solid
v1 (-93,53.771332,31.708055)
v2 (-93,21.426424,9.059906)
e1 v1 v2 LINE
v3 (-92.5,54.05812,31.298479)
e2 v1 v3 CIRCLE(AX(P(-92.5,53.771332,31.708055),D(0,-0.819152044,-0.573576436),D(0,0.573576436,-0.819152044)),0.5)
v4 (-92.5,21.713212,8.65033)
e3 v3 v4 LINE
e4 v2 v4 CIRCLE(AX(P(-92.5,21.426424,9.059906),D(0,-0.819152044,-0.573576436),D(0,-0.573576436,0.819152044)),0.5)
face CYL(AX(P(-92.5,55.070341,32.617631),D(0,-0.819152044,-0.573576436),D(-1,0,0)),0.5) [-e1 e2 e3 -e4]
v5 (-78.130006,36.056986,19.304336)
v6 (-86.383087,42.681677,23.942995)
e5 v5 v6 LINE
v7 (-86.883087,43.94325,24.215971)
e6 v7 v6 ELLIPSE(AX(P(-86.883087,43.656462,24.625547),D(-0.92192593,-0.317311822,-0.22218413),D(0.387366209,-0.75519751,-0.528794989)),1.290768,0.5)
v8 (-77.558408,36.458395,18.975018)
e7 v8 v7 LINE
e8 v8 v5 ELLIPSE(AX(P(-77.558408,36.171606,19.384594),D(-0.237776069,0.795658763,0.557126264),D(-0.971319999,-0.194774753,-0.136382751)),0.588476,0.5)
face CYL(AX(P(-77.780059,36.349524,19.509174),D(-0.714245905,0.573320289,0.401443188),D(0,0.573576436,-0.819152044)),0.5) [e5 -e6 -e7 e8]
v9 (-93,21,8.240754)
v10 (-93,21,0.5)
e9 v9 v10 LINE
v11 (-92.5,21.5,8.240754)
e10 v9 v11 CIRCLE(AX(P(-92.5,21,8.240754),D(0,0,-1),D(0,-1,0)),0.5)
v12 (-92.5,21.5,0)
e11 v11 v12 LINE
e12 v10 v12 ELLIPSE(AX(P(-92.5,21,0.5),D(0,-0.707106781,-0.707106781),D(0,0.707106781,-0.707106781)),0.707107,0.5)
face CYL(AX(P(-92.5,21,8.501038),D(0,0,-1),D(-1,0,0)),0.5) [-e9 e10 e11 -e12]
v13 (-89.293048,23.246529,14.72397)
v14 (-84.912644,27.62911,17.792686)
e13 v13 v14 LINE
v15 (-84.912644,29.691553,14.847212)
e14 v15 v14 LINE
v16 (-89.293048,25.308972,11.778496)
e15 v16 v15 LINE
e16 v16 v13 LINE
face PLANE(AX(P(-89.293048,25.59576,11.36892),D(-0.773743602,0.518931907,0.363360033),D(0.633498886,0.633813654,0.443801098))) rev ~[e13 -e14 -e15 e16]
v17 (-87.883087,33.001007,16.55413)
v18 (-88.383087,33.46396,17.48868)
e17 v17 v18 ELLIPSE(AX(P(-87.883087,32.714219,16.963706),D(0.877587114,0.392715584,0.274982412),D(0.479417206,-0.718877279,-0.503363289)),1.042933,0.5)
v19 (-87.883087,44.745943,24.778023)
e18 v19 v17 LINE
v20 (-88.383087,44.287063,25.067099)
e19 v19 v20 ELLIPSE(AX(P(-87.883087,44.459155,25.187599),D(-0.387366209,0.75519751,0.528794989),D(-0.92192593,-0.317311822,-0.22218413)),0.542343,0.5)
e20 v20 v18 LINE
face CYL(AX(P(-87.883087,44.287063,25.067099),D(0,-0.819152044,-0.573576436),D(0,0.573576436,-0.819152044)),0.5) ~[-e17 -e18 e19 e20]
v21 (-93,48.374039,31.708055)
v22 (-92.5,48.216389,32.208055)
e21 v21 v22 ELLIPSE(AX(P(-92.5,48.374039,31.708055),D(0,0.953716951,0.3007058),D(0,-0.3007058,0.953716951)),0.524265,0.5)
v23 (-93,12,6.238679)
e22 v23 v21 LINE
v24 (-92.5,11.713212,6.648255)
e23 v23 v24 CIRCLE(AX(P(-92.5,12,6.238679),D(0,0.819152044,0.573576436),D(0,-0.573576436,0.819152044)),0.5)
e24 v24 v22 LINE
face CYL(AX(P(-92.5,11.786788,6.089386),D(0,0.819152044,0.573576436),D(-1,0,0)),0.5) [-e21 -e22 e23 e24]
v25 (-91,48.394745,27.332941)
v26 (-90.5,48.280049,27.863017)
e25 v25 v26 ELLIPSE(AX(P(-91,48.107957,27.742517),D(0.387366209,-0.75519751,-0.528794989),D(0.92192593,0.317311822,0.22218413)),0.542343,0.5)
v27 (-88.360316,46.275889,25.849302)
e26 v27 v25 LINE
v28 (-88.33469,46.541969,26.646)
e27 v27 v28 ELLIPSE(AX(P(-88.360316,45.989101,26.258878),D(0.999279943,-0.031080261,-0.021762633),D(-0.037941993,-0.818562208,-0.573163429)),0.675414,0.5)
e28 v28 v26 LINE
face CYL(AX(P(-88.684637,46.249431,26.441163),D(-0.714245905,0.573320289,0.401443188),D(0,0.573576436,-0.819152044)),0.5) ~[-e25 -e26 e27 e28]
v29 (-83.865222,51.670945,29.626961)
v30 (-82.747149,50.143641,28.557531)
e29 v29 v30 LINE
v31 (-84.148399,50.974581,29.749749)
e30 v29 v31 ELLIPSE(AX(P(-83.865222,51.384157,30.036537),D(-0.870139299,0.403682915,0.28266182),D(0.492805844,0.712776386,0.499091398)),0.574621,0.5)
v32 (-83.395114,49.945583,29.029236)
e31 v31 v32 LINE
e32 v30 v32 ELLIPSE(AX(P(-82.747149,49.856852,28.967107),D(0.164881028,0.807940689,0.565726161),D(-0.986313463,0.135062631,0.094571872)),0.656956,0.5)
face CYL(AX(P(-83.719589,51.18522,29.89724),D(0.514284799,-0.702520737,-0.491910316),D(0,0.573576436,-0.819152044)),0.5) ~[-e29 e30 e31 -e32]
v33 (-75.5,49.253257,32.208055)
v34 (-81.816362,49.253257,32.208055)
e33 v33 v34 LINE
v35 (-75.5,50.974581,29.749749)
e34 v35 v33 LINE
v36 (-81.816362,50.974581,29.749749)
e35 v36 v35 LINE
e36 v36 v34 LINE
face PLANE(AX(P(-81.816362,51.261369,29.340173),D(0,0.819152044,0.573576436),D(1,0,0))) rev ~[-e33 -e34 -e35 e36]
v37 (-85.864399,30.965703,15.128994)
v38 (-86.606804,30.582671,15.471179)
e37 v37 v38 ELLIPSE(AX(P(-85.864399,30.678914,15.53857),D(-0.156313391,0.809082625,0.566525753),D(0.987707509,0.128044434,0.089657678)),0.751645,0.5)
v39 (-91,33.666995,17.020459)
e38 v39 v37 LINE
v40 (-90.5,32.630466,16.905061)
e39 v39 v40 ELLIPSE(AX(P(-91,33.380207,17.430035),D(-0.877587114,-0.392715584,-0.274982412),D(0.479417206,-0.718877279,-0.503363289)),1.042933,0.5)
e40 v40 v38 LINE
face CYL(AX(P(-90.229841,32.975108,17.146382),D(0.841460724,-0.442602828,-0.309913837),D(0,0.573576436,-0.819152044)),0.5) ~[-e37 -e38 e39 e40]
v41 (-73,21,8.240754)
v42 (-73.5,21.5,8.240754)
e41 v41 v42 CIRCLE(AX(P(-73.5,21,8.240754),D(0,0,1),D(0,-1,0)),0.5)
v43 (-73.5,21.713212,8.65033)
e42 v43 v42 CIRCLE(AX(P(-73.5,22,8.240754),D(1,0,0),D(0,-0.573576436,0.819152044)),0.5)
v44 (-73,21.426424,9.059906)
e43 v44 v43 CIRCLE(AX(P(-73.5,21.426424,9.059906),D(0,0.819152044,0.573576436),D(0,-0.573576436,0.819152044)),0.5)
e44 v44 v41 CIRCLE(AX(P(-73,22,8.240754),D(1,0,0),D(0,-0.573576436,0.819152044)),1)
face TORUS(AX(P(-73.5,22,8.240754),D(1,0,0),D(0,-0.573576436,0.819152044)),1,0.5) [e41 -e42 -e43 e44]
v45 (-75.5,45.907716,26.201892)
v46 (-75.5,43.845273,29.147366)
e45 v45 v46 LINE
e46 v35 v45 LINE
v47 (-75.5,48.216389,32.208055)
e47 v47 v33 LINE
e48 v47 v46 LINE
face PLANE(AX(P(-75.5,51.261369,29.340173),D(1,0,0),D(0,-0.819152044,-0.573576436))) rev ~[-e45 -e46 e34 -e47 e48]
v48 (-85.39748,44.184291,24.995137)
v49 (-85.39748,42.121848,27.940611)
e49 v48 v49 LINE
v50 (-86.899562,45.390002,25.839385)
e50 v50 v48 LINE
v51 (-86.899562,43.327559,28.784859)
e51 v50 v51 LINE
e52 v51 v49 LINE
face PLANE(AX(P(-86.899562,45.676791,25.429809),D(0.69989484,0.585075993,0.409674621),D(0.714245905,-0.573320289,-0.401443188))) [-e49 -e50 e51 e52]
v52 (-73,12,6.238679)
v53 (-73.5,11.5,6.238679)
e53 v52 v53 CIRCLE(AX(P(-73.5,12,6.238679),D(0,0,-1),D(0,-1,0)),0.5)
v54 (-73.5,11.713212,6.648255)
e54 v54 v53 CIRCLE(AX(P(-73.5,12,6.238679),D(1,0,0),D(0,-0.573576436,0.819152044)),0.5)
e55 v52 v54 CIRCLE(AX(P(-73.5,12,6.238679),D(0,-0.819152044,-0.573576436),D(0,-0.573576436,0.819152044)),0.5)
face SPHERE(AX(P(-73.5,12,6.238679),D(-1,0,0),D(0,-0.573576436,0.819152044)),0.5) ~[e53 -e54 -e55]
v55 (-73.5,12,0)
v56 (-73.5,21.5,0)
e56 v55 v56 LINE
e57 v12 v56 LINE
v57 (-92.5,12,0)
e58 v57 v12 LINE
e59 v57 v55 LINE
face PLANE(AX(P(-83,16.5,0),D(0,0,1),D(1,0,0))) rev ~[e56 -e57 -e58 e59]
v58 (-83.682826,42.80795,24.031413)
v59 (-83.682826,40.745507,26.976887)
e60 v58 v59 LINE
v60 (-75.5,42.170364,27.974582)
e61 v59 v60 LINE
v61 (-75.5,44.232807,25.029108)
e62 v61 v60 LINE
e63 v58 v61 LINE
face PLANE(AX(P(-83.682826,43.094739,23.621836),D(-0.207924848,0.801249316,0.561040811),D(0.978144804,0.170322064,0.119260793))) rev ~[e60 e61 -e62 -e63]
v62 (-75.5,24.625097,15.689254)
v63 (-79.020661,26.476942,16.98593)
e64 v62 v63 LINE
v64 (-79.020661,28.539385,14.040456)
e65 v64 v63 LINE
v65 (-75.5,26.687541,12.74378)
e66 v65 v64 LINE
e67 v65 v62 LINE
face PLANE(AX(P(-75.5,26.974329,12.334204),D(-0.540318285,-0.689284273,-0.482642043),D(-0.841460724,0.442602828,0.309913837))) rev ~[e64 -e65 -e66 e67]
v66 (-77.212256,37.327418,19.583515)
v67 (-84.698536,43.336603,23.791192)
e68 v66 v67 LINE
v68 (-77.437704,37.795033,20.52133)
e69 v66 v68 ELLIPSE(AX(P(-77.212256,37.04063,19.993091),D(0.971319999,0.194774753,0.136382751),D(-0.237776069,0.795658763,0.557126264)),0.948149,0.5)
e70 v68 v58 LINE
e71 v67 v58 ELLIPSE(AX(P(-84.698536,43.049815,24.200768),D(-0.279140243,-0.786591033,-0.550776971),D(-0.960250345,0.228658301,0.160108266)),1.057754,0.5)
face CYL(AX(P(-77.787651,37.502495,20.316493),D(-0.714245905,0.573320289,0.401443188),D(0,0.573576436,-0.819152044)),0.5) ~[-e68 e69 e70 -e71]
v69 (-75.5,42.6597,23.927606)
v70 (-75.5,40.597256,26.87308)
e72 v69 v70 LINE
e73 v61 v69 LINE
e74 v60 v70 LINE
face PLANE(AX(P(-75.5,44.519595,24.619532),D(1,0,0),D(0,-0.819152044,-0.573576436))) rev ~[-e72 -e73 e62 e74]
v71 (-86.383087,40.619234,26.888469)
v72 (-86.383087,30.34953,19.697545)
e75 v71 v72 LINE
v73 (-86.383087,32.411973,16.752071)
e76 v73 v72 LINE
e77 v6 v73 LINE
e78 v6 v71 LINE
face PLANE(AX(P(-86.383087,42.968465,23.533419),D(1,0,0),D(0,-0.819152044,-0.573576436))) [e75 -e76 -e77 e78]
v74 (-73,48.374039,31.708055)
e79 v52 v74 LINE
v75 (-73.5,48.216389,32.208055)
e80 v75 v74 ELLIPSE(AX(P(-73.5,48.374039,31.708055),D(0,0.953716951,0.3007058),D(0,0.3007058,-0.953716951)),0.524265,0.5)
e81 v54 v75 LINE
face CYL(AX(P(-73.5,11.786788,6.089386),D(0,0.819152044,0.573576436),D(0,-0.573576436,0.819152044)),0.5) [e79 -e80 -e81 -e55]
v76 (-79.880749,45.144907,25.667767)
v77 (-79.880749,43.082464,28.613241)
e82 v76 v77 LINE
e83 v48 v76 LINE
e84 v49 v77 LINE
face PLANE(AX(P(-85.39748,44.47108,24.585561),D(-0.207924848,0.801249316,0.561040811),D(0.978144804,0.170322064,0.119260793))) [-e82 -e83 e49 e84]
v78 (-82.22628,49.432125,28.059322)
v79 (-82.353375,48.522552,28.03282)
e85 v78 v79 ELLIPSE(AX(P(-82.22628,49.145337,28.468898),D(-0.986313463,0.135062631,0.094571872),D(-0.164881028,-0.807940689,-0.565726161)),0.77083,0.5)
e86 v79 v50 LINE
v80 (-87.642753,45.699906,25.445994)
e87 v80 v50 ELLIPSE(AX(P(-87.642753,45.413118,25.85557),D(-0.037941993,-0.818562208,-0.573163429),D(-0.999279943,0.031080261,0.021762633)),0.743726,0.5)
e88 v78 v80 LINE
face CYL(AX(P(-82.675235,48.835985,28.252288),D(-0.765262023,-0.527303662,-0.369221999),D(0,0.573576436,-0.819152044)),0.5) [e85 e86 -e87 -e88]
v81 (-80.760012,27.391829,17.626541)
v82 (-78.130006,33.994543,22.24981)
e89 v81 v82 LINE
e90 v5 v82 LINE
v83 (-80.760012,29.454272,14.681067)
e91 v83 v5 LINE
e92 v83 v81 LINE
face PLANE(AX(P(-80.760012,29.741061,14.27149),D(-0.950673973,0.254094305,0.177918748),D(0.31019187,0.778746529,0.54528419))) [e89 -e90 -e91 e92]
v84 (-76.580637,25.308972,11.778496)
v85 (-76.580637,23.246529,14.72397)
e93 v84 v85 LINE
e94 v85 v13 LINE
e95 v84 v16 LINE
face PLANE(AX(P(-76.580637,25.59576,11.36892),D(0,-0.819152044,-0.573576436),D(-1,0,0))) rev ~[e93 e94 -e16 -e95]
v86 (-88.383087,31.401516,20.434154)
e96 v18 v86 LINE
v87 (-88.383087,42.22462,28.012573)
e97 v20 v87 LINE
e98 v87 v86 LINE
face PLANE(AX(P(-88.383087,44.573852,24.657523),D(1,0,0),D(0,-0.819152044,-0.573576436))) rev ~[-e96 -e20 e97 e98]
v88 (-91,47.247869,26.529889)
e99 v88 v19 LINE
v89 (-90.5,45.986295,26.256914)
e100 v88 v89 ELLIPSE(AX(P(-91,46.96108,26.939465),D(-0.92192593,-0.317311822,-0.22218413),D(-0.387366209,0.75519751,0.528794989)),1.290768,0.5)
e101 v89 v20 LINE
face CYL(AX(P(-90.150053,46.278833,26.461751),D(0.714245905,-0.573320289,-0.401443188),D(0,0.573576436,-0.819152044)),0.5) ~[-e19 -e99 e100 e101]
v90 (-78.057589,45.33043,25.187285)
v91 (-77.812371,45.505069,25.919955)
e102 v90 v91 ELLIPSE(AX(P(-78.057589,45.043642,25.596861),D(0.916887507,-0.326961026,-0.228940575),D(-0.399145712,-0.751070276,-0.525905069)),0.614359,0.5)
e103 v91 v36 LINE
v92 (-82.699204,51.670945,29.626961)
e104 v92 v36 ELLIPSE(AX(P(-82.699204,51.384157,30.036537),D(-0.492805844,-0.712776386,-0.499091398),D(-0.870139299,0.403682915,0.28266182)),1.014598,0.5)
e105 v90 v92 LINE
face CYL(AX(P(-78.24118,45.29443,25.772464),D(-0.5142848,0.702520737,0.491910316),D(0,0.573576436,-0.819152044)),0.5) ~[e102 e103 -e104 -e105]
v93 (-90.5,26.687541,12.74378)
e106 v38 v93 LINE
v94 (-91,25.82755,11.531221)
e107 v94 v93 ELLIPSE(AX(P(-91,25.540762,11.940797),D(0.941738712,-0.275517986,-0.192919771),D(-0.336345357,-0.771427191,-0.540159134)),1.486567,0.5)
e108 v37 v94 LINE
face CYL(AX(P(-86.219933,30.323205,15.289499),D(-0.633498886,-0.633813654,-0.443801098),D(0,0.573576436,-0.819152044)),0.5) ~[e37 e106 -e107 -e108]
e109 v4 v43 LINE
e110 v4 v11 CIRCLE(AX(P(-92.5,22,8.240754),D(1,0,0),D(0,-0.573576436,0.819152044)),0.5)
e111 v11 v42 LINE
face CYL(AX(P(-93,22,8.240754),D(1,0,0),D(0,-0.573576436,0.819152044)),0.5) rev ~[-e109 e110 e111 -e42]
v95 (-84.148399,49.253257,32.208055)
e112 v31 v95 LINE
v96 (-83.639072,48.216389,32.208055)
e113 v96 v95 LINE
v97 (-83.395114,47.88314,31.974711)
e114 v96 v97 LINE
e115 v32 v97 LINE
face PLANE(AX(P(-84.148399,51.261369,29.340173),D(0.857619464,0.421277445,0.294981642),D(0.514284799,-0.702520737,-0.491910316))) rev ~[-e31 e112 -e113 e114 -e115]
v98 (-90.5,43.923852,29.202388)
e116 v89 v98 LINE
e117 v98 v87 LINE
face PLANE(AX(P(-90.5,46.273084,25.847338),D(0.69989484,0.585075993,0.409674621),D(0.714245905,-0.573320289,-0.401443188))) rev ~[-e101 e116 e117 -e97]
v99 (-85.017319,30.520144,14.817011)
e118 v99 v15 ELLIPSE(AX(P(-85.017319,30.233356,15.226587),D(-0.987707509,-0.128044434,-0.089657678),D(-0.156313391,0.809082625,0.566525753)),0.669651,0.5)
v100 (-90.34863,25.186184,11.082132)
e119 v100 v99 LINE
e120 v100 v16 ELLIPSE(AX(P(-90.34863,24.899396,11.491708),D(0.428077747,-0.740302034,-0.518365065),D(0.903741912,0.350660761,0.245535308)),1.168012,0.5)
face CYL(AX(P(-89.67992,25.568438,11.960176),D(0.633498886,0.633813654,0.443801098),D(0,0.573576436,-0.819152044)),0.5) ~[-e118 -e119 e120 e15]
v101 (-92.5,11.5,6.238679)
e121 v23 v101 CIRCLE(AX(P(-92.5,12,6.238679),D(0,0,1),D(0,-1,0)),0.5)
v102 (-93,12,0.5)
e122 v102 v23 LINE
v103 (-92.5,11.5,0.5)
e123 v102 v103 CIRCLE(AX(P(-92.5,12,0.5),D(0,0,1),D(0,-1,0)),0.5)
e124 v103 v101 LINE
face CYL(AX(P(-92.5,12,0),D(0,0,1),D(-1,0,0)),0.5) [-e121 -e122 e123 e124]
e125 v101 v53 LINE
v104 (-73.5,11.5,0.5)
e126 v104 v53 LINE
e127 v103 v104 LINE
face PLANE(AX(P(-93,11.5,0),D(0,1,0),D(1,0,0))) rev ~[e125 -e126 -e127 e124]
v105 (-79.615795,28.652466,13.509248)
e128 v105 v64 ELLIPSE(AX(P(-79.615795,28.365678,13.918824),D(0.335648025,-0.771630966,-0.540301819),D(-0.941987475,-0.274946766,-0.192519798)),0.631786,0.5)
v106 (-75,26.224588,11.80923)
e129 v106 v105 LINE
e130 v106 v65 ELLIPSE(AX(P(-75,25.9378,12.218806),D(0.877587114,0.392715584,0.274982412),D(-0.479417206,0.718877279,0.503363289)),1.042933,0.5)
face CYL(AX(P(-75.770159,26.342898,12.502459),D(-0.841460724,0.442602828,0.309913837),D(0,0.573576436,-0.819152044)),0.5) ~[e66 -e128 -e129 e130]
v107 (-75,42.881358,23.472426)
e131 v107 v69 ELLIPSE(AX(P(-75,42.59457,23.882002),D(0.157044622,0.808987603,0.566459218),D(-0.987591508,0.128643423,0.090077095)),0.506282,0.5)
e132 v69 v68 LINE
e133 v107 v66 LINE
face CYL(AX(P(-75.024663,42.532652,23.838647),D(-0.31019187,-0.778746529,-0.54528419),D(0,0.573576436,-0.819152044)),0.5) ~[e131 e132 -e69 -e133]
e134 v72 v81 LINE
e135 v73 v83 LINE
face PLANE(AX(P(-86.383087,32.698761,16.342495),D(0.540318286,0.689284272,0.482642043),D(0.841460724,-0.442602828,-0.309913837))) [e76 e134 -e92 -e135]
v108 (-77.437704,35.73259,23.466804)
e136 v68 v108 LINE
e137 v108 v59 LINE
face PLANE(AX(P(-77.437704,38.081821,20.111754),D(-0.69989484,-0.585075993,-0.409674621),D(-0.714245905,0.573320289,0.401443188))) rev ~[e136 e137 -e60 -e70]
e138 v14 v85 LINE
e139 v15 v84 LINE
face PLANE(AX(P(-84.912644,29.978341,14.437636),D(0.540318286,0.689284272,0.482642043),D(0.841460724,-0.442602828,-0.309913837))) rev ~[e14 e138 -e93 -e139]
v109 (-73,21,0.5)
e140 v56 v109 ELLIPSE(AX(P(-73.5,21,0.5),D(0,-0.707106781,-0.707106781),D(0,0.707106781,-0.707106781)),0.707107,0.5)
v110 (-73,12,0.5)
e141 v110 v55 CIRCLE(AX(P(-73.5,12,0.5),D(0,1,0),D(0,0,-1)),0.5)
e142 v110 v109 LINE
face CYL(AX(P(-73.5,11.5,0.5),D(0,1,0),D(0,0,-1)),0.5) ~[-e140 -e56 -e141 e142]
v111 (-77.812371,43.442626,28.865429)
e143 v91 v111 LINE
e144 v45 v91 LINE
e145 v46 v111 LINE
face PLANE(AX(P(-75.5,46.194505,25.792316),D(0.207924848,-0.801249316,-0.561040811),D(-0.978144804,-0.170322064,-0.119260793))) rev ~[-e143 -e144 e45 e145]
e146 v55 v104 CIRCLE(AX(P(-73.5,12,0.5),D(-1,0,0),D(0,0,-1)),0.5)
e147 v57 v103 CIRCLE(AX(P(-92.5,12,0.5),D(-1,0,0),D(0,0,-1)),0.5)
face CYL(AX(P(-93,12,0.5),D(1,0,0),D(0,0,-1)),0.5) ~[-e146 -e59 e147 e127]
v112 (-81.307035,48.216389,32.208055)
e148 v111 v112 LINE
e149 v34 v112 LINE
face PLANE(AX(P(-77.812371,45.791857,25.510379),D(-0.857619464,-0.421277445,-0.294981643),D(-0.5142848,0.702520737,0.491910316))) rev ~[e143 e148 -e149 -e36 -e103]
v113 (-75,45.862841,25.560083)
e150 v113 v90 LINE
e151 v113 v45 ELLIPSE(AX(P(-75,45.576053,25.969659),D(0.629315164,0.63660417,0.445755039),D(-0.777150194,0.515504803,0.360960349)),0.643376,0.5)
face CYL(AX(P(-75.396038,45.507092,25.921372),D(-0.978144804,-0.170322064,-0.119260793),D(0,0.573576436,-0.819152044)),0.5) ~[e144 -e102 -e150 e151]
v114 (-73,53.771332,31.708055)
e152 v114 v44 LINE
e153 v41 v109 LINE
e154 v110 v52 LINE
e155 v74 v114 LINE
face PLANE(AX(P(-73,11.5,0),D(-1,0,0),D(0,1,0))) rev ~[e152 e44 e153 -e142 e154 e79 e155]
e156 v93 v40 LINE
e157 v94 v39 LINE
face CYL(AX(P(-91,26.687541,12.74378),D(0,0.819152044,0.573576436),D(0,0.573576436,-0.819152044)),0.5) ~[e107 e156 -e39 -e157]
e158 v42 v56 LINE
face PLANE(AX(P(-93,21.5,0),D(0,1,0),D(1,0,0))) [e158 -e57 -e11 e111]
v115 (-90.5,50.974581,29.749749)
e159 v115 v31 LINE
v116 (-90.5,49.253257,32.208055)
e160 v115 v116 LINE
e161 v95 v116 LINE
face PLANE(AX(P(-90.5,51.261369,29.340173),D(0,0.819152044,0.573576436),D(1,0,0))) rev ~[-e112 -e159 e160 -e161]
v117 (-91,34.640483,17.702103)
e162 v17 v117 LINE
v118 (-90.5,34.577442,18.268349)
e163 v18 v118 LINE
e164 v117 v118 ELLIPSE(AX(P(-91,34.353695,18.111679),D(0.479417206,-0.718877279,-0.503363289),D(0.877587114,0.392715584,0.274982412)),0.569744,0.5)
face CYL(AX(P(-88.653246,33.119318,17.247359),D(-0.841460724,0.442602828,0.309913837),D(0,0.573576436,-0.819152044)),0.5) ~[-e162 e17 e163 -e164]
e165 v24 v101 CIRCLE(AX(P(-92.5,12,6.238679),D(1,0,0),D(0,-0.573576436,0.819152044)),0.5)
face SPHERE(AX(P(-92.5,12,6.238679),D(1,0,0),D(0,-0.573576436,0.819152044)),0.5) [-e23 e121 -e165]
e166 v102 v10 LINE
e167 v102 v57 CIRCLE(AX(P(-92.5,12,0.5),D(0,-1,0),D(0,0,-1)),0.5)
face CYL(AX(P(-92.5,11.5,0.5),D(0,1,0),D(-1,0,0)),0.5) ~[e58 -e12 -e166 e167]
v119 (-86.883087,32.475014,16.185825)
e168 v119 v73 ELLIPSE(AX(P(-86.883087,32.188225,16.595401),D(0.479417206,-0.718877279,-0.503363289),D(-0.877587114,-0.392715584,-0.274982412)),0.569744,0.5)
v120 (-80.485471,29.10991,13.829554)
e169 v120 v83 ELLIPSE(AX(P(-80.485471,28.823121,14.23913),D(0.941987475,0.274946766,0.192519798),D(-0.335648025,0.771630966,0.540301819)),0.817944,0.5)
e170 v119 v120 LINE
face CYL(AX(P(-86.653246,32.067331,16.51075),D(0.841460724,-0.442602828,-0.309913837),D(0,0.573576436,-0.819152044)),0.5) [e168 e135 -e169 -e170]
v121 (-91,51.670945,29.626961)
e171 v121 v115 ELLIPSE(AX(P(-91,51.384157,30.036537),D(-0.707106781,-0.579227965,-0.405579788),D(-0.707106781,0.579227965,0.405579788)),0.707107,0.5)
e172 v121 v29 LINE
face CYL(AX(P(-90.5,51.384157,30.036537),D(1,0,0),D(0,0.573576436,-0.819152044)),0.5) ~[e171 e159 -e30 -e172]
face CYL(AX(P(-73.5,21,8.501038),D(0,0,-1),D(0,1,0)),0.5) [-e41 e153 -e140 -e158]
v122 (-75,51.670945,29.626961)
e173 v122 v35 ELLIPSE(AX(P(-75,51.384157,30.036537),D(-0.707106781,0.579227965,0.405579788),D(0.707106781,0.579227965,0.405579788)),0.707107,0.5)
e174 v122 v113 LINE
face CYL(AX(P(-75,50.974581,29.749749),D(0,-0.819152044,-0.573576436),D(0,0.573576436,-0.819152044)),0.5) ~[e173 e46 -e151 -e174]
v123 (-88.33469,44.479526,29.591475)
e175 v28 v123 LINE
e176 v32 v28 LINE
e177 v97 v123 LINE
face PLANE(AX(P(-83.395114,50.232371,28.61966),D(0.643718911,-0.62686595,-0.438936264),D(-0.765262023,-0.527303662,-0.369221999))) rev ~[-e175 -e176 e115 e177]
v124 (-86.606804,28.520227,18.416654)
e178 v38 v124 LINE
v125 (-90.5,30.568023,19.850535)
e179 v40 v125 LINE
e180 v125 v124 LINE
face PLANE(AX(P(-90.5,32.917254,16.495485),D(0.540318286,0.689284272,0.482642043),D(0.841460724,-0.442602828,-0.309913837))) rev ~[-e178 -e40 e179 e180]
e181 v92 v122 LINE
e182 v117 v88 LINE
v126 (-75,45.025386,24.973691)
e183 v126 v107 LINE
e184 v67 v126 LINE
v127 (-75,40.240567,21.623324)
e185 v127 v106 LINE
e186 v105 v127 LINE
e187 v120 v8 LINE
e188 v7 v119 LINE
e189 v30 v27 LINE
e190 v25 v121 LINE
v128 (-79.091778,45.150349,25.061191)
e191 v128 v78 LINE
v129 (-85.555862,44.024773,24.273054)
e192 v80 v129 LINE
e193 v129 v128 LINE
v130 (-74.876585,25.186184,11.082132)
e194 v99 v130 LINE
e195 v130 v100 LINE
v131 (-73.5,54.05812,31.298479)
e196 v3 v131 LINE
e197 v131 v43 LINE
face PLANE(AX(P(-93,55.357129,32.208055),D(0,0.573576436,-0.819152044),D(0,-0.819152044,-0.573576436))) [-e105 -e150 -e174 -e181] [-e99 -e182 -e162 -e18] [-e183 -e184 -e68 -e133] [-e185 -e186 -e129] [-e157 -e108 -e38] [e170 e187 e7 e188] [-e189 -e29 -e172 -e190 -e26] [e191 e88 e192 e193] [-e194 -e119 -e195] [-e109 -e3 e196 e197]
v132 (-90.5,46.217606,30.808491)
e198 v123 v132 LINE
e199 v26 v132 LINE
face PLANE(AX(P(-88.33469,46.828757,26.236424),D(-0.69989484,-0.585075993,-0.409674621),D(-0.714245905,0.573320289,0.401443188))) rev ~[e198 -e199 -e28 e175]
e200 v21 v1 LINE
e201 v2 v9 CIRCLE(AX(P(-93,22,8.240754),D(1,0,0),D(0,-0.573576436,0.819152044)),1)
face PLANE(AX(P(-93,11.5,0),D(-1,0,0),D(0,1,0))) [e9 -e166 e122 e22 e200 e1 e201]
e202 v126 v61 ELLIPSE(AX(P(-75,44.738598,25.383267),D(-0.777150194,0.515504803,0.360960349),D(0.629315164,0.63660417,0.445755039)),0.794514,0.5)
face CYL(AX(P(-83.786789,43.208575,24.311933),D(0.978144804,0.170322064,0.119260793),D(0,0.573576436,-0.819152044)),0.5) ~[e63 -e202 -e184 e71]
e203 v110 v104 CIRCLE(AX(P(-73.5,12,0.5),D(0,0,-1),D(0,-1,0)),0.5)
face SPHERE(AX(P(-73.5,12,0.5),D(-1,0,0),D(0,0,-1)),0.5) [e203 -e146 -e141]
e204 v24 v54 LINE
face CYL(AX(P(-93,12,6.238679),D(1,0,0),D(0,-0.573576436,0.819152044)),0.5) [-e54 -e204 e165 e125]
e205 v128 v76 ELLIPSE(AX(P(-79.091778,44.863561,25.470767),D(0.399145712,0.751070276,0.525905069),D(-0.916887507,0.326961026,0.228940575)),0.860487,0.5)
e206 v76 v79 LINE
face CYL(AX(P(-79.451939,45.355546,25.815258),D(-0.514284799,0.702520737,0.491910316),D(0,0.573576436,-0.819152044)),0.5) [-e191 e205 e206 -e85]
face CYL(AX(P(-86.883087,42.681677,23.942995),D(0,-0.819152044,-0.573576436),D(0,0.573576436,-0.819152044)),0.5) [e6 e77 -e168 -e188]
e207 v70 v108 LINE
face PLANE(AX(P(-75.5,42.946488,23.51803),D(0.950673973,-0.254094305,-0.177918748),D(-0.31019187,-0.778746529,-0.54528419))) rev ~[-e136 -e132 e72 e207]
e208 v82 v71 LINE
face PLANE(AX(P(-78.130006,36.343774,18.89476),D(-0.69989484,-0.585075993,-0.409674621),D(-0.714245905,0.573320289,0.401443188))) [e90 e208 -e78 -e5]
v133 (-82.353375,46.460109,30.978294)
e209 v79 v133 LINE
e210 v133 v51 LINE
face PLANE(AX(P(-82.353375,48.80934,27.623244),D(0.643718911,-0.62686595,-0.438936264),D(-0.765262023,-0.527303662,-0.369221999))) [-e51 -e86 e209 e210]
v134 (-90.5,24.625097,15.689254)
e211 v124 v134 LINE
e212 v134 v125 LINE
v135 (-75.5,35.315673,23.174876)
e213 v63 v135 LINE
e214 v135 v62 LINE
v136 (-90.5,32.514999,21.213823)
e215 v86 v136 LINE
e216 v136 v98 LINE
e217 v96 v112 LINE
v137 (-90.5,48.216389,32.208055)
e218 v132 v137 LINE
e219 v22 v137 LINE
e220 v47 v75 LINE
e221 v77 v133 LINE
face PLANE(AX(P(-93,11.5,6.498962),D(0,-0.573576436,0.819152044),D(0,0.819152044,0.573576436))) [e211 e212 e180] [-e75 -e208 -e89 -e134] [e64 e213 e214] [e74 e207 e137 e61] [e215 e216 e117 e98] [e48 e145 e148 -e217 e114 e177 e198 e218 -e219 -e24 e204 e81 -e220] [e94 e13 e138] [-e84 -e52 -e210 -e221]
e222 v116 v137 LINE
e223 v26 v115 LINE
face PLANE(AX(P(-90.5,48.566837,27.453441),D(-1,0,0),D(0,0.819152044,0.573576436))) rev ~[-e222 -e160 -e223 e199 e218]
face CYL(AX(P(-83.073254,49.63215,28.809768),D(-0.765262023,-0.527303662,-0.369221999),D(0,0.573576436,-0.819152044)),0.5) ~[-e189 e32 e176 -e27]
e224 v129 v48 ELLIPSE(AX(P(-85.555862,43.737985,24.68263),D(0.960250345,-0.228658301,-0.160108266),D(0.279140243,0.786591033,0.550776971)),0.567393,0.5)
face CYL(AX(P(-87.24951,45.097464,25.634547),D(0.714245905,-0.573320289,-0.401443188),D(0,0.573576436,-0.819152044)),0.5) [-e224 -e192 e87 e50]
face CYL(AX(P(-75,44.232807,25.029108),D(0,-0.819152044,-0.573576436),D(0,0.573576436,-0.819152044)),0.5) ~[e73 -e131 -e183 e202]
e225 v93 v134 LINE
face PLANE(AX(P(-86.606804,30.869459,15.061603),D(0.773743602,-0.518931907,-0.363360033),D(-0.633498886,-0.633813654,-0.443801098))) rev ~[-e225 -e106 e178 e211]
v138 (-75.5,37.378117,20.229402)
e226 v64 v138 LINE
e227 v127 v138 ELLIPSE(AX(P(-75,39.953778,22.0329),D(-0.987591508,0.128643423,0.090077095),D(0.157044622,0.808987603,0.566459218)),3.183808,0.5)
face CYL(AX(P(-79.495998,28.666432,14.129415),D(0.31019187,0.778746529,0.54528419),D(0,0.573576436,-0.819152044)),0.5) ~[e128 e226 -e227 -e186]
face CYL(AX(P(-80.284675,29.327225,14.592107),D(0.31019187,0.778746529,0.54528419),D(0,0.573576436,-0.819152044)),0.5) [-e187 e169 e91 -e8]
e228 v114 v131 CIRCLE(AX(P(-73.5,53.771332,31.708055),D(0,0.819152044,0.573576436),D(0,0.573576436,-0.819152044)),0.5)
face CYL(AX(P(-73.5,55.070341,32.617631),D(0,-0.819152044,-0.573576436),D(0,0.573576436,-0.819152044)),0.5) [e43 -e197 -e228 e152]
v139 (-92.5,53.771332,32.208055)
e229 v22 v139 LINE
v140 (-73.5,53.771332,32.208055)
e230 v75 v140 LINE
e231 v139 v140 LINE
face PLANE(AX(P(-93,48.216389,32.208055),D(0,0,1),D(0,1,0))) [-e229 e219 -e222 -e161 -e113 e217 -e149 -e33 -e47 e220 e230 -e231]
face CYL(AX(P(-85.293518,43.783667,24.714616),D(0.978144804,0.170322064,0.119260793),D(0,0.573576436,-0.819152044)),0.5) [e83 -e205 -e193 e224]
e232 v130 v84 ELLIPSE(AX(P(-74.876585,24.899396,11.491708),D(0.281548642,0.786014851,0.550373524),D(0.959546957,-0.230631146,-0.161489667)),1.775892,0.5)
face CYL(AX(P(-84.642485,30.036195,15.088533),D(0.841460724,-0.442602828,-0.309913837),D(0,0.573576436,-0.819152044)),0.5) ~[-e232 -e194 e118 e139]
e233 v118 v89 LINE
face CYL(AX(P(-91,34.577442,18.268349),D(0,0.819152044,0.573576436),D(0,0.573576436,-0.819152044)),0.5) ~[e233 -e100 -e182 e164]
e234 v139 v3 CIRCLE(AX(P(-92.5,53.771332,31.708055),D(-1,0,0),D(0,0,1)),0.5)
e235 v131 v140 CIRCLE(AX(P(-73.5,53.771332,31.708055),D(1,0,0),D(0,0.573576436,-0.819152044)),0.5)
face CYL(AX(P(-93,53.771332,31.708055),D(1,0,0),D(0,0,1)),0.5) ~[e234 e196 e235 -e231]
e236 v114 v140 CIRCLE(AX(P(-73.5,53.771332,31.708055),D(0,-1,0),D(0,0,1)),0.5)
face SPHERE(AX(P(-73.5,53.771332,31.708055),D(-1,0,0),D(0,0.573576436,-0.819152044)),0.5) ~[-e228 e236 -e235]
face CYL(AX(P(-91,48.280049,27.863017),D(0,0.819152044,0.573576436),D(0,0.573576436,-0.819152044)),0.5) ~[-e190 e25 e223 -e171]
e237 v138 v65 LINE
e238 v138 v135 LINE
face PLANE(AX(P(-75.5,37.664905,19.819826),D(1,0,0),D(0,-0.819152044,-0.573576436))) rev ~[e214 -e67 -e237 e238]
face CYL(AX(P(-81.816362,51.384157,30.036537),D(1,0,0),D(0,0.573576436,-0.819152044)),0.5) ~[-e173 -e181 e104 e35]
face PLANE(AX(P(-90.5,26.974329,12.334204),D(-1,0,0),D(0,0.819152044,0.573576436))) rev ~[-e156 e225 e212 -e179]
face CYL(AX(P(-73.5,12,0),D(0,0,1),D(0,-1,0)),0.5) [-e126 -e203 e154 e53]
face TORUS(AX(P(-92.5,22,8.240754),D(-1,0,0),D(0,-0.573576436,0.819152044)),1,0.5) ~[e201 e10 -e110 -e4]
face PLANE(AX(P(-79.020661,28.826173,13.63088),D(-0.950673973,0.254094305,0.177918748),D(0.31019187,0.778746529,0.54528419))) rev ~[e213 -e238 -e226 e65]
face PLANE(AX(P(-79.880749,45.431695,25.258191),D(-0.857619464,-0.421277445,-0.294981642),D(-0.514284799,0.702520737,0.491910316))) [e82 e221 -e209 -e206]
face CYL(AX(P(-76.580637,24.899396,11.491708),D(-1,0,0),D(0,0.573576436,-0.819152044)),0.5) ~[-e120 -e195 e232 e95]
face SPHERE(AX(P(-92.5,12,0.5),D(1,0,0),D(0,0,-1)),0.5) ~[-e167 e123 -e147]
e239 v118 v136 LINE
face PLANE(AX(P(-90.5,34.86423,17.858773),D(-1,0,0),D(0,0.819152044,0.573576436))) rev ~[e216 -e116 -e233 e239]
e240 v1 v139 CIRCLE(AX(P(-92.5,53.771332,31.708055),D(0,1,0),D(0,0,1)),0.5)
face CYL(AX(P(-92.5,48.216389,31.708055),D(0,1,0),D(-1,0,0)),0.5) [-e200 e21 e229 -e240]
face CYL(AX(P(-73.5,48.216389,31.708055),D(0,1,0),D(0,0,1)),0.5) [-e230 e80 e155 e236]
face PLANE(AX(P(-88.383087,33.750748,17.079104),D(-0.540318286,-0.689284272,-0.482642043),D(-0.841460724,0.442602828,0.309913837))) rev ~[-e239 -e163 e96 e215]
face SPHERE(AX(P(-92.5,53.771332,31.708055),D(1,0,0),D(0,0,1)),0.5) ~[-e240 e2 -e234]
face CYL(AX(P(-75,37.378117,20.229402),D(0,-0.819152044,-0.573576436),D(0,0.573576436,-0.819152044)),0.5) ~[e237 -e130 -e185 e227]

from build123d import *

# Parameters (mm, degrees)
SKETCH1_W           = 20
SKETCH1_H           = 10
BOSS_EXTRUDE1_DEPTH = 5
BOSS_EXTRUDE2_DEPTH = 20
CUT_EXTRUDE1_DEPTH  = 4.09576
FILLET1_R           = 0.5


with BuildPart() as part:
    # Sketch1 → Boss-Extrude1 (new body)
    with BuildSketch(Plane.XY):
        with Locations((-83, 16.5)):
            Rectangle(SKETCH1_W, SKETCH1_H)
    extrude(amount=BOSS_EXTRUDE1_DEPTH)

    # Sketch2 → Boss-Extrude2 (add)
    with BuildSketch(Plane.ZY.offset(93)):
        Polygon((5, 16.5), (1.498962309, 11.5), (6.498962309, 11.5), (32.208054955, 48.216389418), (32.208054955, 55.357129452), (8.501037691, 21.5), (5, 21.5), align=None)
    extrude(amount=-BOSS_EXTRUDE2_DEPTH)

    # Sketch3 → Cut-Extrude1 (cut)
    with BuildSketch(Plane(origin=(0, 3.079102266, -4.397413763), x_dir=(-1, 0, 0), z_dir=(0, 0.573576436, -0.819152044))):
        Polygon((90.5, 29.170685305), (90.5, 36.425657649), (86.606804382, 33.925761075), align=None)
        Polygon((76.580636571, 27.487763856), (89.293048323, 27.487763856), (84.912643674, 32.837907557), align=None)
        Polygon((79.020661139, 31.431370249), (75.5, 42.221469006), (75.5, 29.170685305), align=None)
        Polygon((83.682826439, 48.850072065), (75.5, 50.589500561), (75.5, 48.669091242), (77.437703633, 42.730430083), align=None)
        Polygon((77.812370658, 52.142645531), (81.816362113, 58.81968714), (75.5, 58.81968714), (75.5, 52.634187597), align=None)
        Polygon((90.5, 55.53027081), (90.5, 58.81968714), (84.148398738, 58.81968714), (83.395113947, 57.563512158), (88.334689519, 53.40846707), align=None)
        Polygon((86.899562452, 52.002175453), (85.397480311, 50.530274064), (79.880748536, 51.702969161), (82.353375162, 55.826312344), align=None)
        Polygon((90.5, 38.802476843), (90.5, 52.730114749), (88.38308654, 50.655735608), (88.38308654, 37.443165566), align=None)
        Polygon((86.38308654, 36.158926695), (80.76001209, 32.548241301), (78.130006045, 40.608666271), (86.38308654, 48.69592083), align=None)
    extrude(amount=-CUT_EXTRUDE1_DEPTH, mode=Mode.SUBTRACT)

    # Fillet1
    fillet1_edges = [part.edges().sort_by_distance(p)[0] for p in [
        (-88.38308654, 39.162299764, 20.868313128),
        (-90.5, 40.568657026, 21.853055085),
        (-89.44154327, 34.307489189, 17.468938167),
        (-89.44154327, 45.423467601, 25.252430045),
        (-85.864901733, 48.530564087, 27.428042427),
        (-90.5, 49.914103175, 28.396806926),
        (-87.324199369, 51.26136923, 29.340172774),
        (-89.41734476, 47.697797184, 26.844932764),
        (-83.771756342, 50.746870078, 28.979916589),
        (-84.626468807, 47.243065371, 26.526526121),
        (-81.117061849, 47.120517648, 26.440717281),
        (-82.639114423, 44.951387357, 24.9218759),
        (-86.148521381, 45.07393508, 25.007684739),
        (-88.553402191, 31.893356499, 15.778544259),
        (-88.553402191, 28.921893785, 13.697903667),
        (-90.5, 29.94579148, 14.414844551),
        (-83, 21.5, 8.501037691),
        (-83, 55.357129452, 32.208054955),
        (-83, 11.5, 6.498962309),
        (-93, 29.858194709, 19.353508632),
        (-93, 51.786759435, 32.208054955),
        (-93, 38.428564726, 20.354546323),
        (-73, 38.428564726, 20.354546323),
        (-73, 51.786759435, 32.208054955),
        (-73, 29.858194709, 19.353508632),
        (-83, 11.5, 0),
        (-93, 16.5, 0),
        (-73, 16.5, 0),
        (-80.560265036, 40.588280041, 21.866795268),
        (-76.468851816, 40.514154635, 21.814892099),
        (-79.59141322, 43.807166866, 24.120684086),
        (-75.5, 43.73304146, 24.068780918),
        (-73, 11.5, 3.249481154),
        (-93, 11.5, 3.249481154),
        (-76.656185329, 45.993180791, 25.651347516),
        (-79.814366386, 48.526613089, 27.425275908),
        (-93, 21.5, 4.250518846),
        (-78.658181056, 51.26136923, 29.340172774),
        (-75.5, 48.727936933, 27.566244381),
        (-73, 21.5, 4.250518846),
        (-87.102845999, 27.787050796, 12.903278052),
        (-80.746640123, 27.787050796, 12.903278052),
        (-82.936842447, 25.595760221, 11.368919873),
        (-77.26033057, 27.900251113, 12.982541767),
        (-77.26033057, 33.245539188, 16.725352771),
        (-75.5, 32.319616841, 16.077014963),
        (-86.38308654, 37.833613175, 19.937956762),
        (-82.256546293, 39.65611981, 21.214089647),
        (-79.445009068, 33.042417461, 16.583125407),
        (-83.571549315, 31.219910826, 15.306992522),
    ]]
    fillet(fillet1_edges, radius=FILLET1_R)


solid = part.part
